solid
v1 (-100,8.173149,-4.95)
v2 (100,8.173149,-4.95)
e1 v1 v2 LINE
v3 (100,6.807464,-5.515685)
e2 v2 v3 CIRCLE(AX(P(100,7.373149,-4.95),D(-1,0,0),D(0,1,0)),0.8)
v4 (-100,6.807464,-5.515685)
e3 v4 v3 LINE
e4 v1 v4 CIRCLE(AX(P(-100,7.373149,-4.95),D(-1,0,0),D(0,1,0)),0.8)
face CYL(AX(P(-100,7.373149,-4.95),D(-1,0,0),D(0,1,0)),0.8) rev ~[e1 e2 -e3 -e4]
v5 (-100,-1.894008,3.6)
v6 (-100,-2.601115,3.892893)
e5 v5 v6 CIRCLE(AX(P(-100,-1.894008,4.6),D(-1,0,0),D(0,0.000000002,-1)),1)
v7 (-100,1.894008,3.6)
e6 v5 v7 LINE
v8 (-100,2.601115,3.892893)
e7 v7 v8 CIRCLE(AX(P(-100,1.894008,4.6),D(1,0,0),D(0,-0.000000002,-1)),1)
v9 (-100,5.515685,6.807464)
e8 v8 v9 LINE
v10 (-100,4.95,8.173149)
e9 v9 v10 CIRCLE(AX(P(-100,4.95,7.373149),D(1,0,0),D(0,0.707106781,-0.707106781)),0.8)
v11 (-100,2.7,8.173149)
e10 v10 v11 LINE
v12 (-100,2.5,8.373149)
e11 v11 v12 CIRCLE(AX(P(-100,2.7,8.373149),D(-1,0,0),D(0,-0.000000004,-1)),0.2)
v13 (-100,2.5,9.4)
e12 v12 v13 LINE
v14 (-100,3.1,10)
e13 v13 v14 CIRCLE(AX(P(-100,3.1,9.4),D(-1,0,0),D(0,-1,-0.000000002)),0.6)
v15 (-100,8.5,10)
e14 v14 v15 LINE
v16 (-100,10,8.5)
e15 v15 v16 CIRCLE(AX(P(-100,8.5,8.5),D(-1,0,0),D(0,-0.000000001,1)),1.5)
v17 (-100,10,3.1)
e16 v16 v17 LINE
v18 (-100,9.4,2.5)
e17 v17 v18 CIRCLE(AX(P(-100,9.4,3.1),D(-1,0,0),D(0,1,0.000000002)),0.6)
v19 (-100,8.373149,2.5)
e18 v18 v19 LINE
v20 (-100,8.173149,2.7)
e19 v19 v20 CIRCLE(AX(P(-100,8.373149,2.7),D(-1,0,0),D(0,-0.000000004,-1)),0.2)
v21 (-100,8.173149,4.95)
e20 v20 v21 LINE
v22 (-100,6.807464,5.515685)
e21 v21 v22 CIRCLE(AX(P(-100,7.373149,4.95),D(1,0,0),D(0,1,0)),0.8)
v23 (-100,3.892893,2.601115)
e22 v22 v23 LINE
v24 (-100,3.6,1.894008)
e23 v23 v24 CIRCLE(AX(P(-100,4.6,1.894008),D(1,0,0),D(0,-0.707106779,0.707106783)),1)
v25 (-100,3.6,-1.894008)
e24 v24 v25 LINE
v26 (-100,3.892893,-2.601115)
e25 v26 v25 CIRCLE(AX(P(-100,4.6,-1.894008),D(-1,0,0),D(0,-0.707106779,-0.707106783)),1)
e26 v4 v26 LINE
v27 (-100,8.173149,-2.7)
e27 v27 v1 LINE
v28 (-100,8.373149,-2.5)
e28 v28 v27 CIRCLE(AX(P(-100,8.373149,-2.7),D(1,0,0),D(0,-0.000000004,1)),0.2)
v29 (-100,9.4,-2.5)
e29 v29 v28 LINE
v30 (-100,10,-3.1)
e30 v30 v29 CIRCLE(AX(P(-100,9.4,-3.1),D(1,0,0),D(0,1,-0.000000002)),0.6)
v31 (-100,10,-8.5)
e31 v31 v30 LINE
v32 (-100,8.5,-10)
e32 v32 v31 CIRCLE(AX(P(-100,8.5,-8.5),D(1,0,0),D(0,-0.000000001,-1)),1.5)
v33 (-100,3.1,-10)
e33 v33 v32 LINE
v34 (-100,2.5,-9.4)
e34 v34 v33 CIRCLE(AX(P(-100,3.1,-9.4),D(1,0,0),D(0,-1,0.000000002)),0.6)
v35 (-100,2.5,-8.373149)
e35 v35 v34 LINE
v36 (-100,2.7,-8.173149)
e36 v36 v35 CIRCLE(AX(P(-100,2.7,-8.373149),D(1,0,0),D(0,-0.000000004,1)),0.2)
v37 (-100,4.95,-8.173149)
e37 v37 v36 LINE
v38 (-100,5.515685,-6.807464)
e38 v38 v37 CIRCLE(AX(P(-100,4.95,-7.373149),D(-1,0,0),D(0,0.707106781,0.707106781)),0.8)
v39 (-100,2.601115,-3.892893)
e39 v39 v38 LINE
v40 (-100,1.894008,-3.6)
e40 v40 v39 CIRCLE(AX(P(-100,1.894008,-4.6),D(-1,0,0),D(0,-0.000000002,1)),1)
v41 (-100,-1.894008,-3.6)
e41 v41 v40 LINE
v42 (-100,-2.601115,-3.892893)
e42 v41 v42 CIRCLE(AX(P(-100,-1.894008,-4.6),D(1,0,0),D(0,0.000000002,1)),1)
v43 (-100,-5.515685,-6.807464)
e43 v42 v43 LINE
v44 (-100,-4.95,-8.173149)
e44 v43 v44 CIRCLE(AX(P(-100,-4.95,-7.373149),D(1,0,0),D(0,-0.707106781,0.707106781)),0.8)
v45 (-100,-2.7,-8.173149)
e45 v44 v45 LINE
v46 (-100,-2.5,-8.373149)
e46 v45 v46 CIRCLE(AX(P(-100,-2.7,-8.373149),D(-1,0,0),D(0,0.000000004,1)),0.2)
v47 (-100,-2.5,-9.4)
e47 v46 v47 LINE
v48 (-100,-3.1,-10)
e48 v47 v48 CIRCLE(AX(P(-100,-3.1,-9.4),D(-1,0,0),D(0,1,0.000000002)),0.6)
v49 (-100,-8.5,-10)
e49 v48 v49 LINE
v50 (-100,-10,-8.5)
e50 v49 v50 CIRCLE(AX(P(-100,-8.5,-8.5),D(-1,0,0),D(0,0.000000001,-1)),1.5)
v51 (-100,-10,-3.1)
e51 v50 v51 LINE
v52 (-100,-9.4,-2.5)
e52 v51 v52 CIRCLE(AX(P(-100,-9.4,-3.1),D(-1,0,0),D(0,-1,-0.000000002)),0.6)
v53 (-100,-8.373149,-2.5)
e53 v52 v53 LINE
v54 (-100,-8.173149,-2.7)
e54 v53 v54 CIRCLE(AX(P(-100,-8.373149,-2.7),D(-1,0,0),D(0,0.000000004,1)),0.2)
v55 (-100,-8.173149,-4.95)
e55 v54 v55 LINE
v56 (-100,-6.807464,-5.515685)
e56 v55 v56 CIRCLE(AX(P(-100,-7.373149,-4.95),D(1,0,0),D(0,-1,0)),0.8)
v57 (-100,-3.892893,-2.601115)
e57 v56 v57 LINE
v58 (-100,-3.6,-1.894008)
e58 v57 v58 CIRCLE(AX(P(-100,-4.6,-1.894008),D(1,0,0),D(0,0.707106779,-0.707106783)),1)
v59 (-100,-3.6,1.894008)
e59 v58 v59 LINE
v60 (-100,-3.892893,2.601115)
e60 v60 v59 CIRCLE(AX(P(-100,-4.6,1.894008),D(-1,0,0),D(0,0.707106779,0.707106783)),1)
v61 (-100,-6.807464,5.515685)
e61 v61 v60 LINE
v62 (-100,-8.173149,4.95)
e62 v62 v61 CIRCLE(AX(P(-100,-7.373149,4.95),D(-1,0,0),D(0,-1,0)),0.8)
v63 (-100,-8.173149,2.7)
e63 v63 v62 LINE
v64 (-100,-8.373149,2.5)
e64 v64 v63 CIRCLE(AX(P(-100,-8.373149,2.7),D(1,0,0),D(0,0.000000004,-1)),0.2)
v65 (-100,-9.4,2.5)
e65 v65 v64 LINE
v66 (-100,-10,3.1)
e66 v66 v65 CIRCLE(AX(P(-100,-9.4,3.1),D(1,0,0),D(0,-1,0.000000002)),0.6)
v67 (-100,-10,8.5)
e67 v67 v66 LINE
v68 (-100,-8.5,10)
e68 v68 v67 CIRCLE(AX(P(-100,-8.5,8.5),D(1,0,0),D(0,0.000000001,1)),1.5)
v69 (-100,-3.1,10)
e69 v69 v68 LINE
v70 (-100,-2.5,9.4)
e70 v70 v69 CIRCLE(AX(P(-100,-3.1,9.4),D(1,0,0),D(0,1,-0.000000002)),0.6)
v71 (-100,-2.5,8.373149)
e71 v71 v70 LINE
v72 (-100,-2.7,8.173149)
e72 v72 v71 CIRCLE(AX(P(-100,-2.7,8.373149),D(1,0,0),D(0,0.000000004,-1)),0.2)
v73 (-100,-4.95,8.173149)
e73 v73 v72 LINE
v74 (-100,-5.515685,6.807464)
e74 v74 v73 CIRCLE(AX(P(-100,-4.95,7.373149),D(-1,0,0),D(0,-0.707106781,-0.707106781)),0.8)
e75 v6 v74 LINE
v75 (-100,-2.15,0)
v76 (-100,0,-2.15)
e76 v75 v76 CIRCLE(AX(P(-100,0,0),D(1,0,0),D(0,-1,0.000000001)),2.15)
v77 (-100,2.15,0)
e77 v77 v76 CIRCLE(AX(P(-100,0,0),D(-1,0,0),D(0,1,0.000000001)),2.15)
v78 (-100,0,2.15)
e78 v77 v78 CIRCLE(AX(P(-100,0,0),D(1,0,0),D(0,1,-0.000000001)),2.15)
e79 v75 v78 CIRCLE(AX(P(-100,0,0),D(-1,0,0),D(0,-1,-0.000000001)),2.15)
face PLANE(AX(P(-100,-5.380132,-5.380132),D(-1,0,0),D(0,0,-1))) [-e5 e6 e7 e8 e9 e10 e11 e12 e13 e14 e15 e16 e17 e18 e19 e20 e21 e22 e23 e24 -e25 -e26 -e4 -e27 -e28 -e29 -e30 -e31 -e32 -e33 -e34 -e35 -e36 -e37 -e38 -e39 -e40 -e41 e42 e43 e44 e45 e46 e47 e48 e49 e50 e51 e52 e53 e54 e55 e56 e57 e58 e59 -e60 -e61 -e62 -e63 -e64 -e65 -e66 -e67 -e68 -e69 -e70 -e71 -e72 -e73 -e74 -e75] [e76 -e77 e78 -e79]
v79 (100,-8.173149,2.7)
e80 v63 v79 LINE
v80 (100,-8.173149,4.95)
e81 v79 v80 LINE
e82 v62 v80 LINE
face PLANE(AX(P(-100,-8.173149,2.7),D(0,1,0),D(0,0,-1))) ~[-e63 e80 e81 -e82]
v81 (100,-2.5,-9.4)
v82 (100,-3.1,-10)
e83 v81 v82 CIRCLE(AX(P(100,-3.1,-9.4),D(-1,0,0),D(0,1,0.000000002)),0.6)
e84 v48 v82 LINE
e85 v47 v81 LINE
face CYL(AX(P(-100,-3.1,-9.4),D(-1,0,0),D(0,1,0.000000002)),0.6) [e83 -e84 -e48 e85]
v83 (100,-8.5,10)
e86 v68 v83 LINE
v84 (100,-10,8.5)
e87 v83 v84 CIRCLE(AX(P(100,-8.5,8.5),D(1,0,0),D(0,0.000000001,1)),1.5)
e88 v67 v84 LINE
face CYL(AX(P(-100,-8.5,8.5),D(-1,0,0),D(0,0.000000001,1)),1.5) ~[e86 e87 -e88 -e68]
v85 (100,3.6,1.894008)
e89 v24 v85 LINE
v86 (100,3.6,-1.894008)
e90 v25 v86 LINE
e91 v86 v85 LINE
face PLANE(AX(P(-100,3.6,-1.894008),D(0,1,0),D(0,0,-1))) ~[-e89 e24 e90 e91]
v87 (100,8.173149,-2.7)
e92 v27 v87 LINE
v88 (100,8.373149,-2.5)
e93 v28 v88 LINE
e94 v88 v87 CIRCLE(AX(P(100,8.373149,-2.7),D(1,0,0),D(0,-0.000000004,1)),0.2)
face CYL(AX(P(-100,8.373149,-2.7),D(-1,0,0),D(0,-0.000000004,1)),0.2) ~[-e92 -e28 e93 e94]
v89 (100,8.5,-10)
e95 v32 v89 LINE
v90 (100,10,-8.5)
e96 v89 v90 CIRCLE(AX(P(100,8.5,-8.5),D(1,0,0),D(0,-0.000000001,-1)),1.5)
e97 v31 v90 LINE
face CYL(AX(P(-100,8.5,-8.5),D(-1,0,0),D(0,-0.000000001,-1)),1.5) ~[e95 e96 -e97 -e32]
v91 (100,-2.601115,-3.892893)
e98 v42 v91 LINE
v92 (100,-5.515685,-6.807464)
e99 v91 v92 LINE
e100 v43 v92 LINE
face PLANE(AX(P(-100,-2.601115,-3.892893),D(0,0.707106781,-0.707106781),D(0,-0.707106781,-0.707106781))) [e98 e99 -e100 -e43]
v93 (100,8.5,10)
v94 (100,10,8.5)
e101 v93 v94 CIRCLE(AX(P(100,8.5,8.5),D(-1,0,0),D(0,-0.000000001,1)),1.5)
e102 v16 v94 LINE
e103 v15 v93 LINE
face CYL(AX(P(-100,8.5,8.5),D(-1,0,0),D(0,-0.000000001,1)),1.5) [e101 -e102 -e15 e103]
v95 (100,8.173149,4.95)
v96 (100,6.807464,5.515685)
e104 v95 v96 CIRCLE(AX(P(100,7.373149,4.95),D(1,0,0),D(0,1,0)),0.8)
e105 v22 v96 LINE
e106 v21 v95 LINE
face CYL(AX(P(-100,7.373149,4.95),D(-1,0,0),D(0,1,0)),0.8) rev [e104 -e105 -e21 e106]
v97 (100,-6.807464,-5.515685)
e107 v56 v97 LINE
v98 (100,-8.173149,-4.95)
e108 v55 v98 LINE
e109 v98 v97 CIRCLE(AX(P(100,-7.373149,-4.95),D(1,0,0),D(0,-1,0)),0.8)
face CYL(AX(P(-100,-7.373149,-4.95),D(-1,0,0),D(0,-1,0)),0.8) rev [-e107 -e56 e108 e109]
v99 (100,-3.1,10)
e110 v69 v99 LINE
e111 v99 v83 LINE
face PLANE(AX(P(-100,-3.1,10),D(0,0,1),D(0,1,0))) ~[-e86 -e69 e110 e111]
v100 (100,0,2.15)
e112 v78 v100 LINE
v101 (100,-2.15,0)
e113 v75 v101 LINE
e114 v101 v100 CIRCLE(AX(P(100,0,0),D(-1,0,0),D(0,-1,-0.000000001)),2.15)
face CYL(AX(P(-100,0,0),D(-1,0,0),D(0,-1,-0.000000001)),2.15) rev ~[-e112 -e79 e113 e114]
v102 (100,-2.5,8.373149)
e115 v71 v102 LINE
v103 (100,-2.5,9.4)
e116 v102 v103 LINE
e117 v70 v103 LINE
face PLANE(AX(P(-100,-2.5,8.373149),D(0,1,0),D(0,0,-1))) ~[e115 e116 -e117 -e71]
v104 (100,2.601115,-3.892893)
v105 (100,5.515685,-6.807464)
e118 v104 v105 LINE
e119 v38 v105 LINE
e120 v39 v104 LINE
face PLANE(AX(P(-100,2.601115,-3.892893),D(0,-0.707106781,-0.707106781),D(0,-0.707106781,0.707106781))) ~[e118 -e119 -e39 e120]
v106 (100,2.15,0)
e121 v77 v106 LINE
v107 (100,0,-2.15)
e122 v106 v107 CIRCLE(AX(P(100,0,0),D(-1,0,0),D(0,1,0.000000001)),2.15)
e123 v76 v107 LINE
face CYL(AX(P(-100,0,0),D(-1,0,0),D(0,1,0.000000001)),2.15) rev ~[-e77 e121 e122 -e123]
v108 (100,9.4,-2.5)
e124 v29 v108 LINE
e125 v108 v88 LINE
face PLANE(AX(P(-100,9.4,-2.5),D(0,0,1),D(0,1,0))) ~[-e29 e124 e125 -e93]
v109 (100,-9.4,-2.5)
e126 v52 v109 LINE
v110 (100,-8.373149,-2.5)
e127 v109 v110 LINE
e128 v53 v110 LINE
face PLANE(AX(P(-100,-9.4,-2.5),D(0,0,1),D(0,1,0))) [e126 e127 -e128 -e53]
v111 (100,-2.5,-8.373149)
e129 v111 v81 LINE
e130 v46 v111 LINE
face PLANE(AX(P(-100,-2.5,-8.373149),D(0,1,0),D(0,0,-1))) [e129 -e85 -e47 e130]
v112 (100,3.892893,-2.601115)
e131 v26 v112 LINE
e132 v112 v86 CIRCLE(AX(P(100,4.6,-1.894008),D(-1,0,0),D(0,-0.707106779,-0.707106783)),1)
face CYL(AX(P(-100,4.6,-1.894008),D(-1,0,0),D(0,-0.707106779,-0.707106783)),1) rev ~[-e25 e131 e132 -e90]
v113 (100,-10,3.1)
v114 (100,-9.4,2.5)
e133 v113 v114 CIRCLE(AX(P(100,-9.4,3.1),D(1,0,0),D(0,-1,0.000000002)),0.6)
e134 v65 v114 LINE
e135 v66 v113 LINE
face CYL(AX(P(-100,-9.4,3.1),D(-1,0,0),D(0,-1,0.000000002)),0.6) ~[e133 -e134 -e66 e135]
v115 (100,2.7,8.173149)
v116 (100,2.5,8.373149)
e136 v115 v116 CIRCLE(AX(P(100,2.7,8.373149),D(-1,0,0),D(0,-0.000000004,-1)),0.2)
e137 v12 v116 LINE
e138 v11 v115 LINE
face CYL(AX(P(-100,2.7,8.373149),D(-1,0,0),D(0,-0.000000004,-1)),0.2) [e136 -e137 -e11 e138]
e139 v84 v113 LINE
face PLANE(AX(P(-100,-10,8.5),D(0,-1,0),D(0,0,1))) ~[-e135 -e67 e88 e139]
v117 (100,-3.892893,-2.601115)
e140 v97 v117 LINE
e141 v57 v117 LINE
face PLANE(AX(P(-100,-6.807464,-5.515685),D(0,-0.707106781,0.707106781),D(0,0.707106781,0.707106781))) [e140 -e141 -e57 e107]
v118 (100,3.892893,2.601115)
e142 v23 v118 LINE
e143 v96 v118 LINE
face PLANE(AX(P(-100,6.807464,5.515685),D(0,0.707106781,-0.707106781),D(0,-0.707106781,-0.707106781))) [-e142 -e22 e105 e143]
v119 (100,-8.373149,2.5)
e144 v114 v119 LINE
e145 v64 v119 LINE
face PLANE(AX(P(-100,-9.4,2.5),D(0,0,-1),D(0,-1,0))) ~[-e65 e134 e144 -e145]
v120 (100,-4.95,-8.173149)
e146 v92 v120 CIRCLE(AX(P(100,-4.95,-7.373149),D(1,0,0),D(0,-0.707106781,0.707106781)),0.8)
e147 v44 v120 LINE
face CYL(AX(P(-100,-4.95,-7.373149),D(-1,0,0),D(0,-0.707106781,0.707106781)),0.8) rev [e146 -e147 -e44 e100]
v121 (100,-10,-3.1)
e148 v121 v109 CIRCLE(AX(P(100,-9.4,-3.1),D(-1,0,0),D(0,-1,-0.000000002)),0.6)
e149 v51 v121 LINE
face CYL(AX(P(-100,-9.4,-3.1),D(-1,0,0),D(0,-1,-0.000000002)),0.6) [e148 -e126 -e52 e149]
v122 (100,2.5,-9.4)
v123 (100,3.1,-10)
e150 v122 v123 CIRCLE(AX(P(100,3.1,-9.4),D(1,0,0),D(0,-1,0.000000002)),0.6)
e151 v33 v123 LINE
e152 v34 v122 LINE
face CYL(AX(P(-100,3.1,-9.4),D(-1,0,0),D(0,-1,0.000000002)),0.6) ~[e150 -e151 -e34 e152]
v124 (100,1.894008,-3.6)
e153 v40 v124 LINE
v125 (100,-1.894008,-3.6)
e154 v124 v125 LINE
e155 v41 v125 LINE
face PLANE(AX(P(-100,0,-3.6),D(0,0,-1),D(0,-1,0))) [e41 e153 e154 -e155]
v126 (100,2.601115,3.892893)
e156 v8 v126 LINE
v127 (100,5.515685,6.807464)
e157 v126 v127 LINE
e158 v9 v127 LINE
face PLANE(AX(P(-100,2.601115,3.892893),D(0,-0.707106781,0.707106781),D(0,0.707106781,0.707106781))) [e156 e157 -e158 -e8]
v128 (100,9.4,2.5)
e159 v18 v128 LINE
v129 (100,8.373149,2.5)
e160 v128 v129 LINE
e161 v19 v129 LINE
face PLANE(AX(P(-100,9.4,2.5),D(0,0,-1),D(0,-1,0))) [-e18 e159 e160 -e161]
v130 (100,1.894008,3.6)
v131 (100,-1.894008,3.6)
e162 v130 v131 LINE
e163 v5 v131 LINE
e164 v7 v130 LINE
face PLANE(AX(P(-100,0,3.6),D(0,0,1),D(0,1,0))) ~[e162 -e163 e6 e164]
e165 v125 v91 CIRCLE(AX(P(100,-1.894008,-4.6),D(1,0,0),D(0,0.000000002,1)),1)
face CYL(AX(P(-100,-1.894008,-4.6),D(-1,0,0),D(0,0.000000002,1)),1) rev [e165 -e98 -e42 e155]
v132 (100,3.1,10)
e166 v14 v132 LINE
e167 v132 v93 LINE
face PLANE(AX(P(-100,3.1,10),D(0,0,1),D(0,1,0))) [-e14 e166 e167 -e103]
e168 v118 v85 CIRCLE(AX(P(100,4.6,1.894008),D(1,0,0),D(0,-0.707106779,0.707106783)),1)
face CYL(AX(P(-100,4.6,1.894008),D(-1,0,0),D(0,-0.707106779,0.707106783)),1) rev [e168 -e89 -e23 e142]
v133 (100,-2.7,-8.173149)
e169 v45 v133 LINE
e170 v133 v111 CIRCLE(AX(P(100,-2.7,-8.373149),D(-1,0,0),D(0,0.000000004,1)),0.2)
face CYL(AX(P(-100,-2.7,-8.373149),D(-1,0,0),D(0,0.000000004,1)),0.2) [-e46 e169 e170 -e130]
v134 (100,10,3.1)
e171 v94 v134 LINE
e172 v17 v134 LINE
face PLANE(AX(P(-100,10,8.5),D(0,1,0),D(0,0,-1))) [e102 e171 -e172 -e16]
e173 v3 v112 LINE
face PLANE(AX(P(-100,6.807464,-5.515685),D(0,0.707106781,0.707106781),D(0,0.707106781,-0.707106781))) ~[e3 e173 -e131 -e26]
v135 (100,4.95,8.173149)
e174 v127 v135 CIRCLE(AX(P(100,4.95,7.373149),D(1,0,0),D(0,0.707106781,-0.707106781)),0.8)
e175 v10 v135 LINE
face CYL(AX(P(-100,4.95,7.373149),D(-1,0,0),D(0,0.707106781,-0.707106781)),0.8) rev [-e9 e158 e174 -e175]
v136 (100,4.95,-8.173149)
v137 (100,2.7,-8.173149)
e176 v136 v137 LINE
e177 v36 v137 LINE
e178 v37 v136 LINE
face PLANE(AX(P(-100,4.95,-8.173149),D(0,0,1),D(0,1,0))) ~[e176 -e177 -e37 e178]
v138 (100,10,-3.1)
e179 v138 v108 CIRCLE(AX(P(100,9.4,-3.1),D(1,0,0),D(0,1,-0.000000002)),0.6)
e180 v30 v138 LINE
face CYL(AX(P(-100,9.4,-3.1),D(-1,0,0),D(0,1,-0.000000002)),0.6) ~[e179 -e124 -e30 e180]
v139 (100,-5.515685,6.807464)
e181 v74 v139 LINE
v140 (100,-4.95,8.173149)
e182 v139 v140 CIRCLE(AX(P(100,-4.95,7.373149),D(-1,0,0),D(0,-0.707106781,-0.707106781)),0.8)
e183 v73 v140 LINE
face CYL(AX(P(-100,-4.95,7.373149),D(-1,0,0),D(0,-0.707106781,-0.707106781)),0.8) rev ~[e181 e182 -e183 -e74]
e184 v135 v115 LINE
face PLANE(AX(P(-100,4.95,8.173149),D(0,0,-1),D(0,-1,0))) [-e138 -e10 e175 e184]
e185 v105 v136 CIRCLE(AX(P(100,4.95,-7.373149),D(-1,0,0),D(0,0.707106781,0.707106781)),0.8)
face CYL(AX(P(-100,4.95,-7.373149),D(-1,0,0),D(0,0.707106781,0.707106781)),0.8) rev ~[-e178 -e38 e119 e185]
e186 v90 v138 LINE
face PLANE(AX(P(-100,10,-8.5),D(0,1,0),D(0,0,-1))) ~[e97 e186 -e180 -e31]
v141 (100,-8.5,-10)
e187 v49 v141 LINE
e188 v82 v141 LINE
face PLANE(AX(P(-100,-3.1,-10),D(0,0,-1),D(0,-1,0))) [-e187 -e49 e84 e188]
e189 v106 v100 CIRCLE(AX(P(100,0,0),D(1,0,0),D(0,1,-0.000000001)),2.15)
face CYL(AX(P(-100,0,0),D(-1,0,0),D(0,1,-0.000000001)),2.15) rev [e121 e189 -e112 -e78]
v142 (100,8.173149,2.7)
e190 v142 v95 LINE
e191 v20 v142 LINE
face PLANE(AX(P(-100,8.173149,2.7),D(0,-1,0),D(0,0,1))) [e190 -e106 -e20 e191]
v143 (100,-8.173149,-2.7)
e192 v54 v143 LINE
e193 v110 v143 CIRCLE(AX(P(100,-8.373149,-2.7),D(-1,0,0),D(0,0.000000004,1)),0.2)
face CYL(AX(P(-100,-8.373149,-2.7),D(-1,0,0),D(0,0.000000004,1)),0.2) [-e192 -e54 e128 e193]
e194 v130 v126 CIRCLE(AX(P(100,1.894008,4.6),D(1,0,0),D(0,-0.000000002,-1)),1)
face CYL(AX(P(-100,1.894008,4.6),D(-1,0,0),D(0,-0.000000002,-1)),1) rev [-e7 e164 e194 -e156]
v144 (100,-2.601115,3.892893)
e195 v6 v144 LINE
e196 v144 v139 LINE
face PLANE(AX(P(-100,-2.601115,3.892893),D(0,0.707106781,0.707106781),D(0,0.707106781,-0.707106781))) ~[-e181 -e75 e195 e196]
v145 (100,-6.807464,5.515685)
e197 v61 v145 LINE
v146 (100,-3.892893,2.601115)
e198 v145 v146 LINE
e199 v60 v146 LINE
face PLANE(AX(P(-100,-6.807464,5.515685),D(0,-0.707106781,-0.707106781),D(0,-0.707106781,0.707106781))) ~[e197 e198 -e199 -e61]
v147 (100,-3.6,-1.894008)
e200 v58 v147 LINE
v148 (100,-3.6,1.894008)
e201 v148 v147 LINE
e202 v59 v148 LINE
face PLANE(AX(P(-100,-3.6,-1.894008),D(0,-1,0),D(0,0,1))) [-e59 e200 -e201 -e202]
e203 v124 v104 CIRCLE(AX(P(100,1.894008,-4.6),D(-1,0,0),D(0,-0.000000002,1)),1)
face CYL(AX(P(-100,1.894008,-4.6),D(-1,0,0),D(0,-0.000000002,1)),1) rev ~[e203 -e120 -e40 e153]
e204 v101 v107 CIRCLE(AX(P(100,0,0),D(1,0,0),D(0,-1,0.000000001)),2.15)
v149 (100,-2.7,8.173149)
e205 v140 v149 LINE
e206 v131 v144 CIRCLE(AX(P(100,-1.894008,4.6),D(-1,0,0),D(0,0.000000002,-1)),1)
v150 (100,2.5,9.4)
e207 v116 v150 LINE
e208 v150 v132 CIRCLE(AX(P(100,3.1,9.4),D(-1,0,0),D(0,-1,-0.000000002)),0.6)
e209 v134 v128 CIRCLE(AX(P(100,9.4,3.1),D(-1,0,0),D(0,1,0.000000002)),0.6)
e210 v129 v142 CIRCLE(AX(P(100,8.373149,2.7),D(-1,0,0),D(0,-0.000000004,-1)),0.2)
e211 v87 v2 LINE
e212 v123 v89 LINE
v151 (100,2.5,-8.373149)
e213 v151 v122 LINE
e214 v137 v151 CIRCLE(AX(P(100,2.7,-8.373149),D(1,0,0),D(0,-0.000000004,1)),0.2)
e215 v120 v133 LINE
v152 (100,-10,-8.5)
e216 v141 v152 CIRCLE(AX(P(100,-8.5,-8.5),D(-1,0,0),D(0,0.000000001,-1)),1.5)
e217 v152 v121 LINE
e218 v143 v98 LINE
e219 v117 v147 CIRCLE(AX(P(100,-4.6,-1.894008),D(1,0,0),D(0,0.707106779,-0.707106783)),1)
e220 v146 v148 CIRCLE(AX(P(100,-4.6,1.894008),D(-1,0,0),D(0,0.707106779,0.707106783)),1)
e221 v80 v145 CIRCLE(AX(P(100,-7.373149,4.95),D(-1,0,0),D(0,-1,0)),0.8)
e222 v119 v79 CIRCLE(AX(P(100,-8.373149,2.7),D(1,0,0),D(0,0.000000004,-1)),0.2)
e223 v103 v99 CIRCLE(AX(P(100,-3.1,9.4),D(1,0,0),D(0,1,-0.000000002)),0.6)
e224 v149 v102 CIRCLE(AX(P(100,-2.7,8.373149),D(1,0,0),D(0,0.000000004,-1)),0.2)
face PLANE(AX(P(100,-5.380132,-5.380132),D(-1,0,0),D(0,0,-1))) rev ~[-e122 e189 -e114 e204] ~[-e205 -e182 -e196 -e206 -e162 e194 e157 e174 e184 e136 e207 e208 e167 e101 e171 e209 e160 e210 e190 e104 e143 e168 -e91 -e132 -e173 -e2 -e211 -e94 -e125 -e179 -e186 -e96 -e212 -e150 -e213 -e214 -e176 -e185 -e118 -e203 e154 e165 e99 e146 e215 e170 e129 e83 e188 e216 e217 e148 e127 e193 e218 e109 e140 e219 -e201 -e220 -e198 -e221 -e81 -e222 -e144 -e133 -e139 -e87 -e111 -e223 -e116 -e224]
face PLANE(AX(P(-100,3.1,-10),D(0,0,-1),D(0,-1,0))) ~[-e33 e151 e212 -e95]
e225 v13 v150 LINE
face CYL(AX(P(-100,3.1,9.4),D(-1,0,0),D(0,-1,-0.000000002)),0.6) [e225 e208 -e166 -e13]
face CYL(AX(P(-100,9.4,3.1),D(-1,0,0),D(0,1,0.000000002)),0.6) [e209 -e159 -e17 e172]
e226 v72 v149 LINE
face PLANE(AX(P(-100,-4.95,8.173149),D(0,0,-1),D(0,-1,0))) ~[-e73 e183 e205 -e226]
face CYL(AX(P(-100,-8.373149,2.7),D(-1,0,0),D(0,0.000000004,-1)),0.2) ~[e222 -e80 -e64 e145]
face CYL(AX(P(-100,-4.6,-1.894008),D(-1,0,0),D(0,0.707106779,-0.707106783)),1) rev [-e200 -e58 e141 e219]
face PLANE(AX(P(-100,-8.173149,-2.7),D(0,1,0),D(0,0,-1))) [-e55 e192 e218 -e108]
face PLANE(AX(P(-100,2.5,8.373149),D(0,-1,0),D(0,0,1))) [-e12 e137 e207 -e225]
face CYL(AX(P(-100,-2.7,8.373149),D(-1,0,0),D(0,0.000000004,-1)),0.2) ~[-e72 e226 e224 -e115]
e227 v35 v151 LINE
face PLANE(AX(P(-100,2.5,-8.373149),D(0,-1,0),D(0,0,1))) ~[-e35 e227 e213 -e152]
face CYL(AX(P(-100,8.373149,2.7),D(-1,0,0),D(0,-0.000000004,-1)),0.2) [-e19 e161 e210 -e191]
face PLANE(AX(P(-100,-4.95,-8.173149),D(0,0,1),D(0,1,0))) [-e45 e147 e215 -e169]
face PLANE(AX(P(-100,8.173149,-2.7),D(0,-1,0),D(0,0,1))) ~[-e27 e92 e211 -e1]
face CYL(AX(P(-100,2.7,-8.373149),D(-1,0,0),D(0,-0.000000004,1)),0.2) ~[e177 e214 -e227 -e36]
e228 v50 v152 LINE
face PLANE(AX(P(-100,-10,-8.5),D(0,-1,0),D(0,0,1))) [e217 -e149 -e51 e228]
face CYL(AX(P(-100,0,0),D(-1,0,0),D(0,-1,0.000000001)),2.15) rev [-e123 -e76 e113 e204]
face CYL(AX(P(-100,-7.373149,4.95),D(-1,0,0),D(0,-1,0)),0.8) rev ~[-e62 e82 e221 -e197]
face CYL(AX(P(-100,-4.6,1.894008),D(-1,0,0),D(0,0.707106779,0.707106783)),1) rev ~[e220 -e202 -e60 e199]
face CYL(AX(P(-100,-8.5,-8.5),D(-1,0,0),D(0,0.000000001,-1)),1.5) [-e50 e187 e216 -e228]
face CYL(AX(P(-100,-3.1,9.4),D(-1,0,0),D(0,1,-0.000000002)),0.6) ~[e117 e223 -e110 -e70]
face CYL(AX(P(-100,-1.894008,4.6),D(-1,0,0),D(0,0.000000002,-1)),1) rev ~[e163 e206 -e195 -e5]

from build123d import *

# Parameters (mm, degrees)
BOSS_EXTRUDE1_DEPTH      = 100
BOSS_EXTRUDE1_DEPTH_BACK = 100


with BuildPart() as part:
    # Sketch3 → Boss-Extrude1 (new, two sides: drawn at the far end of the back side and taken through both)
    with BuildSketch(Plane(origin=(0, 0, 0), x_dir=(0, 0, -1), z_dir=(1, 0, 0)).offset(-BOSS_EXTRUDE1_DEPTH_BACK)):
        with BuildLine():
            Line((-5.515685425, 6.807463915), (-2.601114729, 3.892893219))
            ThreePointArc((-2.601114729, 3.892893219), (-2.27669138, 3.676120467), (-1.894007948, 3.6))
            Line((-1.894007948, 3.6), (0, 3.6))
            Line((0, 3.6), (0, 2.15))
            ThreePointArc((0, 2.15), (-1.52027958, 1.52027958), (-2.15, 0))
            Line((-2.15, 0), (-3.6, 0))
            Line((-3.6, 0), (-3.6, 1.894007948))
            ThreePointArc((-3.6, 1.894007948), (-3.676120467, 2.27669138), (-3.892893219, 2.601114729))
            Line((-3.892893219, 2.601114729), (-6.807463915, 5.515685425))
            ThreePointArc((-6.807463915, 5.515685425), (-7.679296086, 5.689103626), (-8.17314934, 4.95))
            Line((-8.17314934, 4.95), (-8.17314934, 2.7))
            ThreePointArc((-8.17314934, 2.7), (-8.231727984, 2.558578644), (-8.37314934, 2.5))
            Line((-8.37314934, 2.5), (-9.4, 2.5))
            ThreePointArc((-9.4, 2.5), (-9.824264069, 2.675735931), (-10, 3.1))
            Line((-10, 3.1), (-10, 8.5))
            ThreePointArc((-10, 8.5), (-9.560660172, 9.560660172), (-8.5, 10))
            Line((-8.5, 10), (-3.1, 10))
            ThreePointArc((-3.1, 10), (-2.675735931, 9.824264069), (-2.5, 9.4))
            Line((-2.5, 9.4), (-2.5, 8.37314934))
            ThreePointArc((-2.5, 8.37314934), (-2.558578644, 8.231727984), (-2.7, 8.17314934))
            Line((-2.7, 8.17314934), (-4.95, 8.17314934))
            ThreePointArc((-4.95, 8.17314934), (-5.689103626, 7.679296086), (-5.515685425, 6.807463915))
        make_face()
    extrude(amount=BOSS_EXTRUDE1_DEPTH + BOSS_EXTRUDE1_DEPTH_BACK)

    # Mirror1: part across plane


with BuildPart() as part_1:
    add(part.part)
    add(part.part.mirror(Plane.ZX))

    # Mirror2: part across plane


with BuildPart() as part_2:
    add(part_1.part)
    add(part_1.part.mirror(Plane.XY))


solid = part_2.part
